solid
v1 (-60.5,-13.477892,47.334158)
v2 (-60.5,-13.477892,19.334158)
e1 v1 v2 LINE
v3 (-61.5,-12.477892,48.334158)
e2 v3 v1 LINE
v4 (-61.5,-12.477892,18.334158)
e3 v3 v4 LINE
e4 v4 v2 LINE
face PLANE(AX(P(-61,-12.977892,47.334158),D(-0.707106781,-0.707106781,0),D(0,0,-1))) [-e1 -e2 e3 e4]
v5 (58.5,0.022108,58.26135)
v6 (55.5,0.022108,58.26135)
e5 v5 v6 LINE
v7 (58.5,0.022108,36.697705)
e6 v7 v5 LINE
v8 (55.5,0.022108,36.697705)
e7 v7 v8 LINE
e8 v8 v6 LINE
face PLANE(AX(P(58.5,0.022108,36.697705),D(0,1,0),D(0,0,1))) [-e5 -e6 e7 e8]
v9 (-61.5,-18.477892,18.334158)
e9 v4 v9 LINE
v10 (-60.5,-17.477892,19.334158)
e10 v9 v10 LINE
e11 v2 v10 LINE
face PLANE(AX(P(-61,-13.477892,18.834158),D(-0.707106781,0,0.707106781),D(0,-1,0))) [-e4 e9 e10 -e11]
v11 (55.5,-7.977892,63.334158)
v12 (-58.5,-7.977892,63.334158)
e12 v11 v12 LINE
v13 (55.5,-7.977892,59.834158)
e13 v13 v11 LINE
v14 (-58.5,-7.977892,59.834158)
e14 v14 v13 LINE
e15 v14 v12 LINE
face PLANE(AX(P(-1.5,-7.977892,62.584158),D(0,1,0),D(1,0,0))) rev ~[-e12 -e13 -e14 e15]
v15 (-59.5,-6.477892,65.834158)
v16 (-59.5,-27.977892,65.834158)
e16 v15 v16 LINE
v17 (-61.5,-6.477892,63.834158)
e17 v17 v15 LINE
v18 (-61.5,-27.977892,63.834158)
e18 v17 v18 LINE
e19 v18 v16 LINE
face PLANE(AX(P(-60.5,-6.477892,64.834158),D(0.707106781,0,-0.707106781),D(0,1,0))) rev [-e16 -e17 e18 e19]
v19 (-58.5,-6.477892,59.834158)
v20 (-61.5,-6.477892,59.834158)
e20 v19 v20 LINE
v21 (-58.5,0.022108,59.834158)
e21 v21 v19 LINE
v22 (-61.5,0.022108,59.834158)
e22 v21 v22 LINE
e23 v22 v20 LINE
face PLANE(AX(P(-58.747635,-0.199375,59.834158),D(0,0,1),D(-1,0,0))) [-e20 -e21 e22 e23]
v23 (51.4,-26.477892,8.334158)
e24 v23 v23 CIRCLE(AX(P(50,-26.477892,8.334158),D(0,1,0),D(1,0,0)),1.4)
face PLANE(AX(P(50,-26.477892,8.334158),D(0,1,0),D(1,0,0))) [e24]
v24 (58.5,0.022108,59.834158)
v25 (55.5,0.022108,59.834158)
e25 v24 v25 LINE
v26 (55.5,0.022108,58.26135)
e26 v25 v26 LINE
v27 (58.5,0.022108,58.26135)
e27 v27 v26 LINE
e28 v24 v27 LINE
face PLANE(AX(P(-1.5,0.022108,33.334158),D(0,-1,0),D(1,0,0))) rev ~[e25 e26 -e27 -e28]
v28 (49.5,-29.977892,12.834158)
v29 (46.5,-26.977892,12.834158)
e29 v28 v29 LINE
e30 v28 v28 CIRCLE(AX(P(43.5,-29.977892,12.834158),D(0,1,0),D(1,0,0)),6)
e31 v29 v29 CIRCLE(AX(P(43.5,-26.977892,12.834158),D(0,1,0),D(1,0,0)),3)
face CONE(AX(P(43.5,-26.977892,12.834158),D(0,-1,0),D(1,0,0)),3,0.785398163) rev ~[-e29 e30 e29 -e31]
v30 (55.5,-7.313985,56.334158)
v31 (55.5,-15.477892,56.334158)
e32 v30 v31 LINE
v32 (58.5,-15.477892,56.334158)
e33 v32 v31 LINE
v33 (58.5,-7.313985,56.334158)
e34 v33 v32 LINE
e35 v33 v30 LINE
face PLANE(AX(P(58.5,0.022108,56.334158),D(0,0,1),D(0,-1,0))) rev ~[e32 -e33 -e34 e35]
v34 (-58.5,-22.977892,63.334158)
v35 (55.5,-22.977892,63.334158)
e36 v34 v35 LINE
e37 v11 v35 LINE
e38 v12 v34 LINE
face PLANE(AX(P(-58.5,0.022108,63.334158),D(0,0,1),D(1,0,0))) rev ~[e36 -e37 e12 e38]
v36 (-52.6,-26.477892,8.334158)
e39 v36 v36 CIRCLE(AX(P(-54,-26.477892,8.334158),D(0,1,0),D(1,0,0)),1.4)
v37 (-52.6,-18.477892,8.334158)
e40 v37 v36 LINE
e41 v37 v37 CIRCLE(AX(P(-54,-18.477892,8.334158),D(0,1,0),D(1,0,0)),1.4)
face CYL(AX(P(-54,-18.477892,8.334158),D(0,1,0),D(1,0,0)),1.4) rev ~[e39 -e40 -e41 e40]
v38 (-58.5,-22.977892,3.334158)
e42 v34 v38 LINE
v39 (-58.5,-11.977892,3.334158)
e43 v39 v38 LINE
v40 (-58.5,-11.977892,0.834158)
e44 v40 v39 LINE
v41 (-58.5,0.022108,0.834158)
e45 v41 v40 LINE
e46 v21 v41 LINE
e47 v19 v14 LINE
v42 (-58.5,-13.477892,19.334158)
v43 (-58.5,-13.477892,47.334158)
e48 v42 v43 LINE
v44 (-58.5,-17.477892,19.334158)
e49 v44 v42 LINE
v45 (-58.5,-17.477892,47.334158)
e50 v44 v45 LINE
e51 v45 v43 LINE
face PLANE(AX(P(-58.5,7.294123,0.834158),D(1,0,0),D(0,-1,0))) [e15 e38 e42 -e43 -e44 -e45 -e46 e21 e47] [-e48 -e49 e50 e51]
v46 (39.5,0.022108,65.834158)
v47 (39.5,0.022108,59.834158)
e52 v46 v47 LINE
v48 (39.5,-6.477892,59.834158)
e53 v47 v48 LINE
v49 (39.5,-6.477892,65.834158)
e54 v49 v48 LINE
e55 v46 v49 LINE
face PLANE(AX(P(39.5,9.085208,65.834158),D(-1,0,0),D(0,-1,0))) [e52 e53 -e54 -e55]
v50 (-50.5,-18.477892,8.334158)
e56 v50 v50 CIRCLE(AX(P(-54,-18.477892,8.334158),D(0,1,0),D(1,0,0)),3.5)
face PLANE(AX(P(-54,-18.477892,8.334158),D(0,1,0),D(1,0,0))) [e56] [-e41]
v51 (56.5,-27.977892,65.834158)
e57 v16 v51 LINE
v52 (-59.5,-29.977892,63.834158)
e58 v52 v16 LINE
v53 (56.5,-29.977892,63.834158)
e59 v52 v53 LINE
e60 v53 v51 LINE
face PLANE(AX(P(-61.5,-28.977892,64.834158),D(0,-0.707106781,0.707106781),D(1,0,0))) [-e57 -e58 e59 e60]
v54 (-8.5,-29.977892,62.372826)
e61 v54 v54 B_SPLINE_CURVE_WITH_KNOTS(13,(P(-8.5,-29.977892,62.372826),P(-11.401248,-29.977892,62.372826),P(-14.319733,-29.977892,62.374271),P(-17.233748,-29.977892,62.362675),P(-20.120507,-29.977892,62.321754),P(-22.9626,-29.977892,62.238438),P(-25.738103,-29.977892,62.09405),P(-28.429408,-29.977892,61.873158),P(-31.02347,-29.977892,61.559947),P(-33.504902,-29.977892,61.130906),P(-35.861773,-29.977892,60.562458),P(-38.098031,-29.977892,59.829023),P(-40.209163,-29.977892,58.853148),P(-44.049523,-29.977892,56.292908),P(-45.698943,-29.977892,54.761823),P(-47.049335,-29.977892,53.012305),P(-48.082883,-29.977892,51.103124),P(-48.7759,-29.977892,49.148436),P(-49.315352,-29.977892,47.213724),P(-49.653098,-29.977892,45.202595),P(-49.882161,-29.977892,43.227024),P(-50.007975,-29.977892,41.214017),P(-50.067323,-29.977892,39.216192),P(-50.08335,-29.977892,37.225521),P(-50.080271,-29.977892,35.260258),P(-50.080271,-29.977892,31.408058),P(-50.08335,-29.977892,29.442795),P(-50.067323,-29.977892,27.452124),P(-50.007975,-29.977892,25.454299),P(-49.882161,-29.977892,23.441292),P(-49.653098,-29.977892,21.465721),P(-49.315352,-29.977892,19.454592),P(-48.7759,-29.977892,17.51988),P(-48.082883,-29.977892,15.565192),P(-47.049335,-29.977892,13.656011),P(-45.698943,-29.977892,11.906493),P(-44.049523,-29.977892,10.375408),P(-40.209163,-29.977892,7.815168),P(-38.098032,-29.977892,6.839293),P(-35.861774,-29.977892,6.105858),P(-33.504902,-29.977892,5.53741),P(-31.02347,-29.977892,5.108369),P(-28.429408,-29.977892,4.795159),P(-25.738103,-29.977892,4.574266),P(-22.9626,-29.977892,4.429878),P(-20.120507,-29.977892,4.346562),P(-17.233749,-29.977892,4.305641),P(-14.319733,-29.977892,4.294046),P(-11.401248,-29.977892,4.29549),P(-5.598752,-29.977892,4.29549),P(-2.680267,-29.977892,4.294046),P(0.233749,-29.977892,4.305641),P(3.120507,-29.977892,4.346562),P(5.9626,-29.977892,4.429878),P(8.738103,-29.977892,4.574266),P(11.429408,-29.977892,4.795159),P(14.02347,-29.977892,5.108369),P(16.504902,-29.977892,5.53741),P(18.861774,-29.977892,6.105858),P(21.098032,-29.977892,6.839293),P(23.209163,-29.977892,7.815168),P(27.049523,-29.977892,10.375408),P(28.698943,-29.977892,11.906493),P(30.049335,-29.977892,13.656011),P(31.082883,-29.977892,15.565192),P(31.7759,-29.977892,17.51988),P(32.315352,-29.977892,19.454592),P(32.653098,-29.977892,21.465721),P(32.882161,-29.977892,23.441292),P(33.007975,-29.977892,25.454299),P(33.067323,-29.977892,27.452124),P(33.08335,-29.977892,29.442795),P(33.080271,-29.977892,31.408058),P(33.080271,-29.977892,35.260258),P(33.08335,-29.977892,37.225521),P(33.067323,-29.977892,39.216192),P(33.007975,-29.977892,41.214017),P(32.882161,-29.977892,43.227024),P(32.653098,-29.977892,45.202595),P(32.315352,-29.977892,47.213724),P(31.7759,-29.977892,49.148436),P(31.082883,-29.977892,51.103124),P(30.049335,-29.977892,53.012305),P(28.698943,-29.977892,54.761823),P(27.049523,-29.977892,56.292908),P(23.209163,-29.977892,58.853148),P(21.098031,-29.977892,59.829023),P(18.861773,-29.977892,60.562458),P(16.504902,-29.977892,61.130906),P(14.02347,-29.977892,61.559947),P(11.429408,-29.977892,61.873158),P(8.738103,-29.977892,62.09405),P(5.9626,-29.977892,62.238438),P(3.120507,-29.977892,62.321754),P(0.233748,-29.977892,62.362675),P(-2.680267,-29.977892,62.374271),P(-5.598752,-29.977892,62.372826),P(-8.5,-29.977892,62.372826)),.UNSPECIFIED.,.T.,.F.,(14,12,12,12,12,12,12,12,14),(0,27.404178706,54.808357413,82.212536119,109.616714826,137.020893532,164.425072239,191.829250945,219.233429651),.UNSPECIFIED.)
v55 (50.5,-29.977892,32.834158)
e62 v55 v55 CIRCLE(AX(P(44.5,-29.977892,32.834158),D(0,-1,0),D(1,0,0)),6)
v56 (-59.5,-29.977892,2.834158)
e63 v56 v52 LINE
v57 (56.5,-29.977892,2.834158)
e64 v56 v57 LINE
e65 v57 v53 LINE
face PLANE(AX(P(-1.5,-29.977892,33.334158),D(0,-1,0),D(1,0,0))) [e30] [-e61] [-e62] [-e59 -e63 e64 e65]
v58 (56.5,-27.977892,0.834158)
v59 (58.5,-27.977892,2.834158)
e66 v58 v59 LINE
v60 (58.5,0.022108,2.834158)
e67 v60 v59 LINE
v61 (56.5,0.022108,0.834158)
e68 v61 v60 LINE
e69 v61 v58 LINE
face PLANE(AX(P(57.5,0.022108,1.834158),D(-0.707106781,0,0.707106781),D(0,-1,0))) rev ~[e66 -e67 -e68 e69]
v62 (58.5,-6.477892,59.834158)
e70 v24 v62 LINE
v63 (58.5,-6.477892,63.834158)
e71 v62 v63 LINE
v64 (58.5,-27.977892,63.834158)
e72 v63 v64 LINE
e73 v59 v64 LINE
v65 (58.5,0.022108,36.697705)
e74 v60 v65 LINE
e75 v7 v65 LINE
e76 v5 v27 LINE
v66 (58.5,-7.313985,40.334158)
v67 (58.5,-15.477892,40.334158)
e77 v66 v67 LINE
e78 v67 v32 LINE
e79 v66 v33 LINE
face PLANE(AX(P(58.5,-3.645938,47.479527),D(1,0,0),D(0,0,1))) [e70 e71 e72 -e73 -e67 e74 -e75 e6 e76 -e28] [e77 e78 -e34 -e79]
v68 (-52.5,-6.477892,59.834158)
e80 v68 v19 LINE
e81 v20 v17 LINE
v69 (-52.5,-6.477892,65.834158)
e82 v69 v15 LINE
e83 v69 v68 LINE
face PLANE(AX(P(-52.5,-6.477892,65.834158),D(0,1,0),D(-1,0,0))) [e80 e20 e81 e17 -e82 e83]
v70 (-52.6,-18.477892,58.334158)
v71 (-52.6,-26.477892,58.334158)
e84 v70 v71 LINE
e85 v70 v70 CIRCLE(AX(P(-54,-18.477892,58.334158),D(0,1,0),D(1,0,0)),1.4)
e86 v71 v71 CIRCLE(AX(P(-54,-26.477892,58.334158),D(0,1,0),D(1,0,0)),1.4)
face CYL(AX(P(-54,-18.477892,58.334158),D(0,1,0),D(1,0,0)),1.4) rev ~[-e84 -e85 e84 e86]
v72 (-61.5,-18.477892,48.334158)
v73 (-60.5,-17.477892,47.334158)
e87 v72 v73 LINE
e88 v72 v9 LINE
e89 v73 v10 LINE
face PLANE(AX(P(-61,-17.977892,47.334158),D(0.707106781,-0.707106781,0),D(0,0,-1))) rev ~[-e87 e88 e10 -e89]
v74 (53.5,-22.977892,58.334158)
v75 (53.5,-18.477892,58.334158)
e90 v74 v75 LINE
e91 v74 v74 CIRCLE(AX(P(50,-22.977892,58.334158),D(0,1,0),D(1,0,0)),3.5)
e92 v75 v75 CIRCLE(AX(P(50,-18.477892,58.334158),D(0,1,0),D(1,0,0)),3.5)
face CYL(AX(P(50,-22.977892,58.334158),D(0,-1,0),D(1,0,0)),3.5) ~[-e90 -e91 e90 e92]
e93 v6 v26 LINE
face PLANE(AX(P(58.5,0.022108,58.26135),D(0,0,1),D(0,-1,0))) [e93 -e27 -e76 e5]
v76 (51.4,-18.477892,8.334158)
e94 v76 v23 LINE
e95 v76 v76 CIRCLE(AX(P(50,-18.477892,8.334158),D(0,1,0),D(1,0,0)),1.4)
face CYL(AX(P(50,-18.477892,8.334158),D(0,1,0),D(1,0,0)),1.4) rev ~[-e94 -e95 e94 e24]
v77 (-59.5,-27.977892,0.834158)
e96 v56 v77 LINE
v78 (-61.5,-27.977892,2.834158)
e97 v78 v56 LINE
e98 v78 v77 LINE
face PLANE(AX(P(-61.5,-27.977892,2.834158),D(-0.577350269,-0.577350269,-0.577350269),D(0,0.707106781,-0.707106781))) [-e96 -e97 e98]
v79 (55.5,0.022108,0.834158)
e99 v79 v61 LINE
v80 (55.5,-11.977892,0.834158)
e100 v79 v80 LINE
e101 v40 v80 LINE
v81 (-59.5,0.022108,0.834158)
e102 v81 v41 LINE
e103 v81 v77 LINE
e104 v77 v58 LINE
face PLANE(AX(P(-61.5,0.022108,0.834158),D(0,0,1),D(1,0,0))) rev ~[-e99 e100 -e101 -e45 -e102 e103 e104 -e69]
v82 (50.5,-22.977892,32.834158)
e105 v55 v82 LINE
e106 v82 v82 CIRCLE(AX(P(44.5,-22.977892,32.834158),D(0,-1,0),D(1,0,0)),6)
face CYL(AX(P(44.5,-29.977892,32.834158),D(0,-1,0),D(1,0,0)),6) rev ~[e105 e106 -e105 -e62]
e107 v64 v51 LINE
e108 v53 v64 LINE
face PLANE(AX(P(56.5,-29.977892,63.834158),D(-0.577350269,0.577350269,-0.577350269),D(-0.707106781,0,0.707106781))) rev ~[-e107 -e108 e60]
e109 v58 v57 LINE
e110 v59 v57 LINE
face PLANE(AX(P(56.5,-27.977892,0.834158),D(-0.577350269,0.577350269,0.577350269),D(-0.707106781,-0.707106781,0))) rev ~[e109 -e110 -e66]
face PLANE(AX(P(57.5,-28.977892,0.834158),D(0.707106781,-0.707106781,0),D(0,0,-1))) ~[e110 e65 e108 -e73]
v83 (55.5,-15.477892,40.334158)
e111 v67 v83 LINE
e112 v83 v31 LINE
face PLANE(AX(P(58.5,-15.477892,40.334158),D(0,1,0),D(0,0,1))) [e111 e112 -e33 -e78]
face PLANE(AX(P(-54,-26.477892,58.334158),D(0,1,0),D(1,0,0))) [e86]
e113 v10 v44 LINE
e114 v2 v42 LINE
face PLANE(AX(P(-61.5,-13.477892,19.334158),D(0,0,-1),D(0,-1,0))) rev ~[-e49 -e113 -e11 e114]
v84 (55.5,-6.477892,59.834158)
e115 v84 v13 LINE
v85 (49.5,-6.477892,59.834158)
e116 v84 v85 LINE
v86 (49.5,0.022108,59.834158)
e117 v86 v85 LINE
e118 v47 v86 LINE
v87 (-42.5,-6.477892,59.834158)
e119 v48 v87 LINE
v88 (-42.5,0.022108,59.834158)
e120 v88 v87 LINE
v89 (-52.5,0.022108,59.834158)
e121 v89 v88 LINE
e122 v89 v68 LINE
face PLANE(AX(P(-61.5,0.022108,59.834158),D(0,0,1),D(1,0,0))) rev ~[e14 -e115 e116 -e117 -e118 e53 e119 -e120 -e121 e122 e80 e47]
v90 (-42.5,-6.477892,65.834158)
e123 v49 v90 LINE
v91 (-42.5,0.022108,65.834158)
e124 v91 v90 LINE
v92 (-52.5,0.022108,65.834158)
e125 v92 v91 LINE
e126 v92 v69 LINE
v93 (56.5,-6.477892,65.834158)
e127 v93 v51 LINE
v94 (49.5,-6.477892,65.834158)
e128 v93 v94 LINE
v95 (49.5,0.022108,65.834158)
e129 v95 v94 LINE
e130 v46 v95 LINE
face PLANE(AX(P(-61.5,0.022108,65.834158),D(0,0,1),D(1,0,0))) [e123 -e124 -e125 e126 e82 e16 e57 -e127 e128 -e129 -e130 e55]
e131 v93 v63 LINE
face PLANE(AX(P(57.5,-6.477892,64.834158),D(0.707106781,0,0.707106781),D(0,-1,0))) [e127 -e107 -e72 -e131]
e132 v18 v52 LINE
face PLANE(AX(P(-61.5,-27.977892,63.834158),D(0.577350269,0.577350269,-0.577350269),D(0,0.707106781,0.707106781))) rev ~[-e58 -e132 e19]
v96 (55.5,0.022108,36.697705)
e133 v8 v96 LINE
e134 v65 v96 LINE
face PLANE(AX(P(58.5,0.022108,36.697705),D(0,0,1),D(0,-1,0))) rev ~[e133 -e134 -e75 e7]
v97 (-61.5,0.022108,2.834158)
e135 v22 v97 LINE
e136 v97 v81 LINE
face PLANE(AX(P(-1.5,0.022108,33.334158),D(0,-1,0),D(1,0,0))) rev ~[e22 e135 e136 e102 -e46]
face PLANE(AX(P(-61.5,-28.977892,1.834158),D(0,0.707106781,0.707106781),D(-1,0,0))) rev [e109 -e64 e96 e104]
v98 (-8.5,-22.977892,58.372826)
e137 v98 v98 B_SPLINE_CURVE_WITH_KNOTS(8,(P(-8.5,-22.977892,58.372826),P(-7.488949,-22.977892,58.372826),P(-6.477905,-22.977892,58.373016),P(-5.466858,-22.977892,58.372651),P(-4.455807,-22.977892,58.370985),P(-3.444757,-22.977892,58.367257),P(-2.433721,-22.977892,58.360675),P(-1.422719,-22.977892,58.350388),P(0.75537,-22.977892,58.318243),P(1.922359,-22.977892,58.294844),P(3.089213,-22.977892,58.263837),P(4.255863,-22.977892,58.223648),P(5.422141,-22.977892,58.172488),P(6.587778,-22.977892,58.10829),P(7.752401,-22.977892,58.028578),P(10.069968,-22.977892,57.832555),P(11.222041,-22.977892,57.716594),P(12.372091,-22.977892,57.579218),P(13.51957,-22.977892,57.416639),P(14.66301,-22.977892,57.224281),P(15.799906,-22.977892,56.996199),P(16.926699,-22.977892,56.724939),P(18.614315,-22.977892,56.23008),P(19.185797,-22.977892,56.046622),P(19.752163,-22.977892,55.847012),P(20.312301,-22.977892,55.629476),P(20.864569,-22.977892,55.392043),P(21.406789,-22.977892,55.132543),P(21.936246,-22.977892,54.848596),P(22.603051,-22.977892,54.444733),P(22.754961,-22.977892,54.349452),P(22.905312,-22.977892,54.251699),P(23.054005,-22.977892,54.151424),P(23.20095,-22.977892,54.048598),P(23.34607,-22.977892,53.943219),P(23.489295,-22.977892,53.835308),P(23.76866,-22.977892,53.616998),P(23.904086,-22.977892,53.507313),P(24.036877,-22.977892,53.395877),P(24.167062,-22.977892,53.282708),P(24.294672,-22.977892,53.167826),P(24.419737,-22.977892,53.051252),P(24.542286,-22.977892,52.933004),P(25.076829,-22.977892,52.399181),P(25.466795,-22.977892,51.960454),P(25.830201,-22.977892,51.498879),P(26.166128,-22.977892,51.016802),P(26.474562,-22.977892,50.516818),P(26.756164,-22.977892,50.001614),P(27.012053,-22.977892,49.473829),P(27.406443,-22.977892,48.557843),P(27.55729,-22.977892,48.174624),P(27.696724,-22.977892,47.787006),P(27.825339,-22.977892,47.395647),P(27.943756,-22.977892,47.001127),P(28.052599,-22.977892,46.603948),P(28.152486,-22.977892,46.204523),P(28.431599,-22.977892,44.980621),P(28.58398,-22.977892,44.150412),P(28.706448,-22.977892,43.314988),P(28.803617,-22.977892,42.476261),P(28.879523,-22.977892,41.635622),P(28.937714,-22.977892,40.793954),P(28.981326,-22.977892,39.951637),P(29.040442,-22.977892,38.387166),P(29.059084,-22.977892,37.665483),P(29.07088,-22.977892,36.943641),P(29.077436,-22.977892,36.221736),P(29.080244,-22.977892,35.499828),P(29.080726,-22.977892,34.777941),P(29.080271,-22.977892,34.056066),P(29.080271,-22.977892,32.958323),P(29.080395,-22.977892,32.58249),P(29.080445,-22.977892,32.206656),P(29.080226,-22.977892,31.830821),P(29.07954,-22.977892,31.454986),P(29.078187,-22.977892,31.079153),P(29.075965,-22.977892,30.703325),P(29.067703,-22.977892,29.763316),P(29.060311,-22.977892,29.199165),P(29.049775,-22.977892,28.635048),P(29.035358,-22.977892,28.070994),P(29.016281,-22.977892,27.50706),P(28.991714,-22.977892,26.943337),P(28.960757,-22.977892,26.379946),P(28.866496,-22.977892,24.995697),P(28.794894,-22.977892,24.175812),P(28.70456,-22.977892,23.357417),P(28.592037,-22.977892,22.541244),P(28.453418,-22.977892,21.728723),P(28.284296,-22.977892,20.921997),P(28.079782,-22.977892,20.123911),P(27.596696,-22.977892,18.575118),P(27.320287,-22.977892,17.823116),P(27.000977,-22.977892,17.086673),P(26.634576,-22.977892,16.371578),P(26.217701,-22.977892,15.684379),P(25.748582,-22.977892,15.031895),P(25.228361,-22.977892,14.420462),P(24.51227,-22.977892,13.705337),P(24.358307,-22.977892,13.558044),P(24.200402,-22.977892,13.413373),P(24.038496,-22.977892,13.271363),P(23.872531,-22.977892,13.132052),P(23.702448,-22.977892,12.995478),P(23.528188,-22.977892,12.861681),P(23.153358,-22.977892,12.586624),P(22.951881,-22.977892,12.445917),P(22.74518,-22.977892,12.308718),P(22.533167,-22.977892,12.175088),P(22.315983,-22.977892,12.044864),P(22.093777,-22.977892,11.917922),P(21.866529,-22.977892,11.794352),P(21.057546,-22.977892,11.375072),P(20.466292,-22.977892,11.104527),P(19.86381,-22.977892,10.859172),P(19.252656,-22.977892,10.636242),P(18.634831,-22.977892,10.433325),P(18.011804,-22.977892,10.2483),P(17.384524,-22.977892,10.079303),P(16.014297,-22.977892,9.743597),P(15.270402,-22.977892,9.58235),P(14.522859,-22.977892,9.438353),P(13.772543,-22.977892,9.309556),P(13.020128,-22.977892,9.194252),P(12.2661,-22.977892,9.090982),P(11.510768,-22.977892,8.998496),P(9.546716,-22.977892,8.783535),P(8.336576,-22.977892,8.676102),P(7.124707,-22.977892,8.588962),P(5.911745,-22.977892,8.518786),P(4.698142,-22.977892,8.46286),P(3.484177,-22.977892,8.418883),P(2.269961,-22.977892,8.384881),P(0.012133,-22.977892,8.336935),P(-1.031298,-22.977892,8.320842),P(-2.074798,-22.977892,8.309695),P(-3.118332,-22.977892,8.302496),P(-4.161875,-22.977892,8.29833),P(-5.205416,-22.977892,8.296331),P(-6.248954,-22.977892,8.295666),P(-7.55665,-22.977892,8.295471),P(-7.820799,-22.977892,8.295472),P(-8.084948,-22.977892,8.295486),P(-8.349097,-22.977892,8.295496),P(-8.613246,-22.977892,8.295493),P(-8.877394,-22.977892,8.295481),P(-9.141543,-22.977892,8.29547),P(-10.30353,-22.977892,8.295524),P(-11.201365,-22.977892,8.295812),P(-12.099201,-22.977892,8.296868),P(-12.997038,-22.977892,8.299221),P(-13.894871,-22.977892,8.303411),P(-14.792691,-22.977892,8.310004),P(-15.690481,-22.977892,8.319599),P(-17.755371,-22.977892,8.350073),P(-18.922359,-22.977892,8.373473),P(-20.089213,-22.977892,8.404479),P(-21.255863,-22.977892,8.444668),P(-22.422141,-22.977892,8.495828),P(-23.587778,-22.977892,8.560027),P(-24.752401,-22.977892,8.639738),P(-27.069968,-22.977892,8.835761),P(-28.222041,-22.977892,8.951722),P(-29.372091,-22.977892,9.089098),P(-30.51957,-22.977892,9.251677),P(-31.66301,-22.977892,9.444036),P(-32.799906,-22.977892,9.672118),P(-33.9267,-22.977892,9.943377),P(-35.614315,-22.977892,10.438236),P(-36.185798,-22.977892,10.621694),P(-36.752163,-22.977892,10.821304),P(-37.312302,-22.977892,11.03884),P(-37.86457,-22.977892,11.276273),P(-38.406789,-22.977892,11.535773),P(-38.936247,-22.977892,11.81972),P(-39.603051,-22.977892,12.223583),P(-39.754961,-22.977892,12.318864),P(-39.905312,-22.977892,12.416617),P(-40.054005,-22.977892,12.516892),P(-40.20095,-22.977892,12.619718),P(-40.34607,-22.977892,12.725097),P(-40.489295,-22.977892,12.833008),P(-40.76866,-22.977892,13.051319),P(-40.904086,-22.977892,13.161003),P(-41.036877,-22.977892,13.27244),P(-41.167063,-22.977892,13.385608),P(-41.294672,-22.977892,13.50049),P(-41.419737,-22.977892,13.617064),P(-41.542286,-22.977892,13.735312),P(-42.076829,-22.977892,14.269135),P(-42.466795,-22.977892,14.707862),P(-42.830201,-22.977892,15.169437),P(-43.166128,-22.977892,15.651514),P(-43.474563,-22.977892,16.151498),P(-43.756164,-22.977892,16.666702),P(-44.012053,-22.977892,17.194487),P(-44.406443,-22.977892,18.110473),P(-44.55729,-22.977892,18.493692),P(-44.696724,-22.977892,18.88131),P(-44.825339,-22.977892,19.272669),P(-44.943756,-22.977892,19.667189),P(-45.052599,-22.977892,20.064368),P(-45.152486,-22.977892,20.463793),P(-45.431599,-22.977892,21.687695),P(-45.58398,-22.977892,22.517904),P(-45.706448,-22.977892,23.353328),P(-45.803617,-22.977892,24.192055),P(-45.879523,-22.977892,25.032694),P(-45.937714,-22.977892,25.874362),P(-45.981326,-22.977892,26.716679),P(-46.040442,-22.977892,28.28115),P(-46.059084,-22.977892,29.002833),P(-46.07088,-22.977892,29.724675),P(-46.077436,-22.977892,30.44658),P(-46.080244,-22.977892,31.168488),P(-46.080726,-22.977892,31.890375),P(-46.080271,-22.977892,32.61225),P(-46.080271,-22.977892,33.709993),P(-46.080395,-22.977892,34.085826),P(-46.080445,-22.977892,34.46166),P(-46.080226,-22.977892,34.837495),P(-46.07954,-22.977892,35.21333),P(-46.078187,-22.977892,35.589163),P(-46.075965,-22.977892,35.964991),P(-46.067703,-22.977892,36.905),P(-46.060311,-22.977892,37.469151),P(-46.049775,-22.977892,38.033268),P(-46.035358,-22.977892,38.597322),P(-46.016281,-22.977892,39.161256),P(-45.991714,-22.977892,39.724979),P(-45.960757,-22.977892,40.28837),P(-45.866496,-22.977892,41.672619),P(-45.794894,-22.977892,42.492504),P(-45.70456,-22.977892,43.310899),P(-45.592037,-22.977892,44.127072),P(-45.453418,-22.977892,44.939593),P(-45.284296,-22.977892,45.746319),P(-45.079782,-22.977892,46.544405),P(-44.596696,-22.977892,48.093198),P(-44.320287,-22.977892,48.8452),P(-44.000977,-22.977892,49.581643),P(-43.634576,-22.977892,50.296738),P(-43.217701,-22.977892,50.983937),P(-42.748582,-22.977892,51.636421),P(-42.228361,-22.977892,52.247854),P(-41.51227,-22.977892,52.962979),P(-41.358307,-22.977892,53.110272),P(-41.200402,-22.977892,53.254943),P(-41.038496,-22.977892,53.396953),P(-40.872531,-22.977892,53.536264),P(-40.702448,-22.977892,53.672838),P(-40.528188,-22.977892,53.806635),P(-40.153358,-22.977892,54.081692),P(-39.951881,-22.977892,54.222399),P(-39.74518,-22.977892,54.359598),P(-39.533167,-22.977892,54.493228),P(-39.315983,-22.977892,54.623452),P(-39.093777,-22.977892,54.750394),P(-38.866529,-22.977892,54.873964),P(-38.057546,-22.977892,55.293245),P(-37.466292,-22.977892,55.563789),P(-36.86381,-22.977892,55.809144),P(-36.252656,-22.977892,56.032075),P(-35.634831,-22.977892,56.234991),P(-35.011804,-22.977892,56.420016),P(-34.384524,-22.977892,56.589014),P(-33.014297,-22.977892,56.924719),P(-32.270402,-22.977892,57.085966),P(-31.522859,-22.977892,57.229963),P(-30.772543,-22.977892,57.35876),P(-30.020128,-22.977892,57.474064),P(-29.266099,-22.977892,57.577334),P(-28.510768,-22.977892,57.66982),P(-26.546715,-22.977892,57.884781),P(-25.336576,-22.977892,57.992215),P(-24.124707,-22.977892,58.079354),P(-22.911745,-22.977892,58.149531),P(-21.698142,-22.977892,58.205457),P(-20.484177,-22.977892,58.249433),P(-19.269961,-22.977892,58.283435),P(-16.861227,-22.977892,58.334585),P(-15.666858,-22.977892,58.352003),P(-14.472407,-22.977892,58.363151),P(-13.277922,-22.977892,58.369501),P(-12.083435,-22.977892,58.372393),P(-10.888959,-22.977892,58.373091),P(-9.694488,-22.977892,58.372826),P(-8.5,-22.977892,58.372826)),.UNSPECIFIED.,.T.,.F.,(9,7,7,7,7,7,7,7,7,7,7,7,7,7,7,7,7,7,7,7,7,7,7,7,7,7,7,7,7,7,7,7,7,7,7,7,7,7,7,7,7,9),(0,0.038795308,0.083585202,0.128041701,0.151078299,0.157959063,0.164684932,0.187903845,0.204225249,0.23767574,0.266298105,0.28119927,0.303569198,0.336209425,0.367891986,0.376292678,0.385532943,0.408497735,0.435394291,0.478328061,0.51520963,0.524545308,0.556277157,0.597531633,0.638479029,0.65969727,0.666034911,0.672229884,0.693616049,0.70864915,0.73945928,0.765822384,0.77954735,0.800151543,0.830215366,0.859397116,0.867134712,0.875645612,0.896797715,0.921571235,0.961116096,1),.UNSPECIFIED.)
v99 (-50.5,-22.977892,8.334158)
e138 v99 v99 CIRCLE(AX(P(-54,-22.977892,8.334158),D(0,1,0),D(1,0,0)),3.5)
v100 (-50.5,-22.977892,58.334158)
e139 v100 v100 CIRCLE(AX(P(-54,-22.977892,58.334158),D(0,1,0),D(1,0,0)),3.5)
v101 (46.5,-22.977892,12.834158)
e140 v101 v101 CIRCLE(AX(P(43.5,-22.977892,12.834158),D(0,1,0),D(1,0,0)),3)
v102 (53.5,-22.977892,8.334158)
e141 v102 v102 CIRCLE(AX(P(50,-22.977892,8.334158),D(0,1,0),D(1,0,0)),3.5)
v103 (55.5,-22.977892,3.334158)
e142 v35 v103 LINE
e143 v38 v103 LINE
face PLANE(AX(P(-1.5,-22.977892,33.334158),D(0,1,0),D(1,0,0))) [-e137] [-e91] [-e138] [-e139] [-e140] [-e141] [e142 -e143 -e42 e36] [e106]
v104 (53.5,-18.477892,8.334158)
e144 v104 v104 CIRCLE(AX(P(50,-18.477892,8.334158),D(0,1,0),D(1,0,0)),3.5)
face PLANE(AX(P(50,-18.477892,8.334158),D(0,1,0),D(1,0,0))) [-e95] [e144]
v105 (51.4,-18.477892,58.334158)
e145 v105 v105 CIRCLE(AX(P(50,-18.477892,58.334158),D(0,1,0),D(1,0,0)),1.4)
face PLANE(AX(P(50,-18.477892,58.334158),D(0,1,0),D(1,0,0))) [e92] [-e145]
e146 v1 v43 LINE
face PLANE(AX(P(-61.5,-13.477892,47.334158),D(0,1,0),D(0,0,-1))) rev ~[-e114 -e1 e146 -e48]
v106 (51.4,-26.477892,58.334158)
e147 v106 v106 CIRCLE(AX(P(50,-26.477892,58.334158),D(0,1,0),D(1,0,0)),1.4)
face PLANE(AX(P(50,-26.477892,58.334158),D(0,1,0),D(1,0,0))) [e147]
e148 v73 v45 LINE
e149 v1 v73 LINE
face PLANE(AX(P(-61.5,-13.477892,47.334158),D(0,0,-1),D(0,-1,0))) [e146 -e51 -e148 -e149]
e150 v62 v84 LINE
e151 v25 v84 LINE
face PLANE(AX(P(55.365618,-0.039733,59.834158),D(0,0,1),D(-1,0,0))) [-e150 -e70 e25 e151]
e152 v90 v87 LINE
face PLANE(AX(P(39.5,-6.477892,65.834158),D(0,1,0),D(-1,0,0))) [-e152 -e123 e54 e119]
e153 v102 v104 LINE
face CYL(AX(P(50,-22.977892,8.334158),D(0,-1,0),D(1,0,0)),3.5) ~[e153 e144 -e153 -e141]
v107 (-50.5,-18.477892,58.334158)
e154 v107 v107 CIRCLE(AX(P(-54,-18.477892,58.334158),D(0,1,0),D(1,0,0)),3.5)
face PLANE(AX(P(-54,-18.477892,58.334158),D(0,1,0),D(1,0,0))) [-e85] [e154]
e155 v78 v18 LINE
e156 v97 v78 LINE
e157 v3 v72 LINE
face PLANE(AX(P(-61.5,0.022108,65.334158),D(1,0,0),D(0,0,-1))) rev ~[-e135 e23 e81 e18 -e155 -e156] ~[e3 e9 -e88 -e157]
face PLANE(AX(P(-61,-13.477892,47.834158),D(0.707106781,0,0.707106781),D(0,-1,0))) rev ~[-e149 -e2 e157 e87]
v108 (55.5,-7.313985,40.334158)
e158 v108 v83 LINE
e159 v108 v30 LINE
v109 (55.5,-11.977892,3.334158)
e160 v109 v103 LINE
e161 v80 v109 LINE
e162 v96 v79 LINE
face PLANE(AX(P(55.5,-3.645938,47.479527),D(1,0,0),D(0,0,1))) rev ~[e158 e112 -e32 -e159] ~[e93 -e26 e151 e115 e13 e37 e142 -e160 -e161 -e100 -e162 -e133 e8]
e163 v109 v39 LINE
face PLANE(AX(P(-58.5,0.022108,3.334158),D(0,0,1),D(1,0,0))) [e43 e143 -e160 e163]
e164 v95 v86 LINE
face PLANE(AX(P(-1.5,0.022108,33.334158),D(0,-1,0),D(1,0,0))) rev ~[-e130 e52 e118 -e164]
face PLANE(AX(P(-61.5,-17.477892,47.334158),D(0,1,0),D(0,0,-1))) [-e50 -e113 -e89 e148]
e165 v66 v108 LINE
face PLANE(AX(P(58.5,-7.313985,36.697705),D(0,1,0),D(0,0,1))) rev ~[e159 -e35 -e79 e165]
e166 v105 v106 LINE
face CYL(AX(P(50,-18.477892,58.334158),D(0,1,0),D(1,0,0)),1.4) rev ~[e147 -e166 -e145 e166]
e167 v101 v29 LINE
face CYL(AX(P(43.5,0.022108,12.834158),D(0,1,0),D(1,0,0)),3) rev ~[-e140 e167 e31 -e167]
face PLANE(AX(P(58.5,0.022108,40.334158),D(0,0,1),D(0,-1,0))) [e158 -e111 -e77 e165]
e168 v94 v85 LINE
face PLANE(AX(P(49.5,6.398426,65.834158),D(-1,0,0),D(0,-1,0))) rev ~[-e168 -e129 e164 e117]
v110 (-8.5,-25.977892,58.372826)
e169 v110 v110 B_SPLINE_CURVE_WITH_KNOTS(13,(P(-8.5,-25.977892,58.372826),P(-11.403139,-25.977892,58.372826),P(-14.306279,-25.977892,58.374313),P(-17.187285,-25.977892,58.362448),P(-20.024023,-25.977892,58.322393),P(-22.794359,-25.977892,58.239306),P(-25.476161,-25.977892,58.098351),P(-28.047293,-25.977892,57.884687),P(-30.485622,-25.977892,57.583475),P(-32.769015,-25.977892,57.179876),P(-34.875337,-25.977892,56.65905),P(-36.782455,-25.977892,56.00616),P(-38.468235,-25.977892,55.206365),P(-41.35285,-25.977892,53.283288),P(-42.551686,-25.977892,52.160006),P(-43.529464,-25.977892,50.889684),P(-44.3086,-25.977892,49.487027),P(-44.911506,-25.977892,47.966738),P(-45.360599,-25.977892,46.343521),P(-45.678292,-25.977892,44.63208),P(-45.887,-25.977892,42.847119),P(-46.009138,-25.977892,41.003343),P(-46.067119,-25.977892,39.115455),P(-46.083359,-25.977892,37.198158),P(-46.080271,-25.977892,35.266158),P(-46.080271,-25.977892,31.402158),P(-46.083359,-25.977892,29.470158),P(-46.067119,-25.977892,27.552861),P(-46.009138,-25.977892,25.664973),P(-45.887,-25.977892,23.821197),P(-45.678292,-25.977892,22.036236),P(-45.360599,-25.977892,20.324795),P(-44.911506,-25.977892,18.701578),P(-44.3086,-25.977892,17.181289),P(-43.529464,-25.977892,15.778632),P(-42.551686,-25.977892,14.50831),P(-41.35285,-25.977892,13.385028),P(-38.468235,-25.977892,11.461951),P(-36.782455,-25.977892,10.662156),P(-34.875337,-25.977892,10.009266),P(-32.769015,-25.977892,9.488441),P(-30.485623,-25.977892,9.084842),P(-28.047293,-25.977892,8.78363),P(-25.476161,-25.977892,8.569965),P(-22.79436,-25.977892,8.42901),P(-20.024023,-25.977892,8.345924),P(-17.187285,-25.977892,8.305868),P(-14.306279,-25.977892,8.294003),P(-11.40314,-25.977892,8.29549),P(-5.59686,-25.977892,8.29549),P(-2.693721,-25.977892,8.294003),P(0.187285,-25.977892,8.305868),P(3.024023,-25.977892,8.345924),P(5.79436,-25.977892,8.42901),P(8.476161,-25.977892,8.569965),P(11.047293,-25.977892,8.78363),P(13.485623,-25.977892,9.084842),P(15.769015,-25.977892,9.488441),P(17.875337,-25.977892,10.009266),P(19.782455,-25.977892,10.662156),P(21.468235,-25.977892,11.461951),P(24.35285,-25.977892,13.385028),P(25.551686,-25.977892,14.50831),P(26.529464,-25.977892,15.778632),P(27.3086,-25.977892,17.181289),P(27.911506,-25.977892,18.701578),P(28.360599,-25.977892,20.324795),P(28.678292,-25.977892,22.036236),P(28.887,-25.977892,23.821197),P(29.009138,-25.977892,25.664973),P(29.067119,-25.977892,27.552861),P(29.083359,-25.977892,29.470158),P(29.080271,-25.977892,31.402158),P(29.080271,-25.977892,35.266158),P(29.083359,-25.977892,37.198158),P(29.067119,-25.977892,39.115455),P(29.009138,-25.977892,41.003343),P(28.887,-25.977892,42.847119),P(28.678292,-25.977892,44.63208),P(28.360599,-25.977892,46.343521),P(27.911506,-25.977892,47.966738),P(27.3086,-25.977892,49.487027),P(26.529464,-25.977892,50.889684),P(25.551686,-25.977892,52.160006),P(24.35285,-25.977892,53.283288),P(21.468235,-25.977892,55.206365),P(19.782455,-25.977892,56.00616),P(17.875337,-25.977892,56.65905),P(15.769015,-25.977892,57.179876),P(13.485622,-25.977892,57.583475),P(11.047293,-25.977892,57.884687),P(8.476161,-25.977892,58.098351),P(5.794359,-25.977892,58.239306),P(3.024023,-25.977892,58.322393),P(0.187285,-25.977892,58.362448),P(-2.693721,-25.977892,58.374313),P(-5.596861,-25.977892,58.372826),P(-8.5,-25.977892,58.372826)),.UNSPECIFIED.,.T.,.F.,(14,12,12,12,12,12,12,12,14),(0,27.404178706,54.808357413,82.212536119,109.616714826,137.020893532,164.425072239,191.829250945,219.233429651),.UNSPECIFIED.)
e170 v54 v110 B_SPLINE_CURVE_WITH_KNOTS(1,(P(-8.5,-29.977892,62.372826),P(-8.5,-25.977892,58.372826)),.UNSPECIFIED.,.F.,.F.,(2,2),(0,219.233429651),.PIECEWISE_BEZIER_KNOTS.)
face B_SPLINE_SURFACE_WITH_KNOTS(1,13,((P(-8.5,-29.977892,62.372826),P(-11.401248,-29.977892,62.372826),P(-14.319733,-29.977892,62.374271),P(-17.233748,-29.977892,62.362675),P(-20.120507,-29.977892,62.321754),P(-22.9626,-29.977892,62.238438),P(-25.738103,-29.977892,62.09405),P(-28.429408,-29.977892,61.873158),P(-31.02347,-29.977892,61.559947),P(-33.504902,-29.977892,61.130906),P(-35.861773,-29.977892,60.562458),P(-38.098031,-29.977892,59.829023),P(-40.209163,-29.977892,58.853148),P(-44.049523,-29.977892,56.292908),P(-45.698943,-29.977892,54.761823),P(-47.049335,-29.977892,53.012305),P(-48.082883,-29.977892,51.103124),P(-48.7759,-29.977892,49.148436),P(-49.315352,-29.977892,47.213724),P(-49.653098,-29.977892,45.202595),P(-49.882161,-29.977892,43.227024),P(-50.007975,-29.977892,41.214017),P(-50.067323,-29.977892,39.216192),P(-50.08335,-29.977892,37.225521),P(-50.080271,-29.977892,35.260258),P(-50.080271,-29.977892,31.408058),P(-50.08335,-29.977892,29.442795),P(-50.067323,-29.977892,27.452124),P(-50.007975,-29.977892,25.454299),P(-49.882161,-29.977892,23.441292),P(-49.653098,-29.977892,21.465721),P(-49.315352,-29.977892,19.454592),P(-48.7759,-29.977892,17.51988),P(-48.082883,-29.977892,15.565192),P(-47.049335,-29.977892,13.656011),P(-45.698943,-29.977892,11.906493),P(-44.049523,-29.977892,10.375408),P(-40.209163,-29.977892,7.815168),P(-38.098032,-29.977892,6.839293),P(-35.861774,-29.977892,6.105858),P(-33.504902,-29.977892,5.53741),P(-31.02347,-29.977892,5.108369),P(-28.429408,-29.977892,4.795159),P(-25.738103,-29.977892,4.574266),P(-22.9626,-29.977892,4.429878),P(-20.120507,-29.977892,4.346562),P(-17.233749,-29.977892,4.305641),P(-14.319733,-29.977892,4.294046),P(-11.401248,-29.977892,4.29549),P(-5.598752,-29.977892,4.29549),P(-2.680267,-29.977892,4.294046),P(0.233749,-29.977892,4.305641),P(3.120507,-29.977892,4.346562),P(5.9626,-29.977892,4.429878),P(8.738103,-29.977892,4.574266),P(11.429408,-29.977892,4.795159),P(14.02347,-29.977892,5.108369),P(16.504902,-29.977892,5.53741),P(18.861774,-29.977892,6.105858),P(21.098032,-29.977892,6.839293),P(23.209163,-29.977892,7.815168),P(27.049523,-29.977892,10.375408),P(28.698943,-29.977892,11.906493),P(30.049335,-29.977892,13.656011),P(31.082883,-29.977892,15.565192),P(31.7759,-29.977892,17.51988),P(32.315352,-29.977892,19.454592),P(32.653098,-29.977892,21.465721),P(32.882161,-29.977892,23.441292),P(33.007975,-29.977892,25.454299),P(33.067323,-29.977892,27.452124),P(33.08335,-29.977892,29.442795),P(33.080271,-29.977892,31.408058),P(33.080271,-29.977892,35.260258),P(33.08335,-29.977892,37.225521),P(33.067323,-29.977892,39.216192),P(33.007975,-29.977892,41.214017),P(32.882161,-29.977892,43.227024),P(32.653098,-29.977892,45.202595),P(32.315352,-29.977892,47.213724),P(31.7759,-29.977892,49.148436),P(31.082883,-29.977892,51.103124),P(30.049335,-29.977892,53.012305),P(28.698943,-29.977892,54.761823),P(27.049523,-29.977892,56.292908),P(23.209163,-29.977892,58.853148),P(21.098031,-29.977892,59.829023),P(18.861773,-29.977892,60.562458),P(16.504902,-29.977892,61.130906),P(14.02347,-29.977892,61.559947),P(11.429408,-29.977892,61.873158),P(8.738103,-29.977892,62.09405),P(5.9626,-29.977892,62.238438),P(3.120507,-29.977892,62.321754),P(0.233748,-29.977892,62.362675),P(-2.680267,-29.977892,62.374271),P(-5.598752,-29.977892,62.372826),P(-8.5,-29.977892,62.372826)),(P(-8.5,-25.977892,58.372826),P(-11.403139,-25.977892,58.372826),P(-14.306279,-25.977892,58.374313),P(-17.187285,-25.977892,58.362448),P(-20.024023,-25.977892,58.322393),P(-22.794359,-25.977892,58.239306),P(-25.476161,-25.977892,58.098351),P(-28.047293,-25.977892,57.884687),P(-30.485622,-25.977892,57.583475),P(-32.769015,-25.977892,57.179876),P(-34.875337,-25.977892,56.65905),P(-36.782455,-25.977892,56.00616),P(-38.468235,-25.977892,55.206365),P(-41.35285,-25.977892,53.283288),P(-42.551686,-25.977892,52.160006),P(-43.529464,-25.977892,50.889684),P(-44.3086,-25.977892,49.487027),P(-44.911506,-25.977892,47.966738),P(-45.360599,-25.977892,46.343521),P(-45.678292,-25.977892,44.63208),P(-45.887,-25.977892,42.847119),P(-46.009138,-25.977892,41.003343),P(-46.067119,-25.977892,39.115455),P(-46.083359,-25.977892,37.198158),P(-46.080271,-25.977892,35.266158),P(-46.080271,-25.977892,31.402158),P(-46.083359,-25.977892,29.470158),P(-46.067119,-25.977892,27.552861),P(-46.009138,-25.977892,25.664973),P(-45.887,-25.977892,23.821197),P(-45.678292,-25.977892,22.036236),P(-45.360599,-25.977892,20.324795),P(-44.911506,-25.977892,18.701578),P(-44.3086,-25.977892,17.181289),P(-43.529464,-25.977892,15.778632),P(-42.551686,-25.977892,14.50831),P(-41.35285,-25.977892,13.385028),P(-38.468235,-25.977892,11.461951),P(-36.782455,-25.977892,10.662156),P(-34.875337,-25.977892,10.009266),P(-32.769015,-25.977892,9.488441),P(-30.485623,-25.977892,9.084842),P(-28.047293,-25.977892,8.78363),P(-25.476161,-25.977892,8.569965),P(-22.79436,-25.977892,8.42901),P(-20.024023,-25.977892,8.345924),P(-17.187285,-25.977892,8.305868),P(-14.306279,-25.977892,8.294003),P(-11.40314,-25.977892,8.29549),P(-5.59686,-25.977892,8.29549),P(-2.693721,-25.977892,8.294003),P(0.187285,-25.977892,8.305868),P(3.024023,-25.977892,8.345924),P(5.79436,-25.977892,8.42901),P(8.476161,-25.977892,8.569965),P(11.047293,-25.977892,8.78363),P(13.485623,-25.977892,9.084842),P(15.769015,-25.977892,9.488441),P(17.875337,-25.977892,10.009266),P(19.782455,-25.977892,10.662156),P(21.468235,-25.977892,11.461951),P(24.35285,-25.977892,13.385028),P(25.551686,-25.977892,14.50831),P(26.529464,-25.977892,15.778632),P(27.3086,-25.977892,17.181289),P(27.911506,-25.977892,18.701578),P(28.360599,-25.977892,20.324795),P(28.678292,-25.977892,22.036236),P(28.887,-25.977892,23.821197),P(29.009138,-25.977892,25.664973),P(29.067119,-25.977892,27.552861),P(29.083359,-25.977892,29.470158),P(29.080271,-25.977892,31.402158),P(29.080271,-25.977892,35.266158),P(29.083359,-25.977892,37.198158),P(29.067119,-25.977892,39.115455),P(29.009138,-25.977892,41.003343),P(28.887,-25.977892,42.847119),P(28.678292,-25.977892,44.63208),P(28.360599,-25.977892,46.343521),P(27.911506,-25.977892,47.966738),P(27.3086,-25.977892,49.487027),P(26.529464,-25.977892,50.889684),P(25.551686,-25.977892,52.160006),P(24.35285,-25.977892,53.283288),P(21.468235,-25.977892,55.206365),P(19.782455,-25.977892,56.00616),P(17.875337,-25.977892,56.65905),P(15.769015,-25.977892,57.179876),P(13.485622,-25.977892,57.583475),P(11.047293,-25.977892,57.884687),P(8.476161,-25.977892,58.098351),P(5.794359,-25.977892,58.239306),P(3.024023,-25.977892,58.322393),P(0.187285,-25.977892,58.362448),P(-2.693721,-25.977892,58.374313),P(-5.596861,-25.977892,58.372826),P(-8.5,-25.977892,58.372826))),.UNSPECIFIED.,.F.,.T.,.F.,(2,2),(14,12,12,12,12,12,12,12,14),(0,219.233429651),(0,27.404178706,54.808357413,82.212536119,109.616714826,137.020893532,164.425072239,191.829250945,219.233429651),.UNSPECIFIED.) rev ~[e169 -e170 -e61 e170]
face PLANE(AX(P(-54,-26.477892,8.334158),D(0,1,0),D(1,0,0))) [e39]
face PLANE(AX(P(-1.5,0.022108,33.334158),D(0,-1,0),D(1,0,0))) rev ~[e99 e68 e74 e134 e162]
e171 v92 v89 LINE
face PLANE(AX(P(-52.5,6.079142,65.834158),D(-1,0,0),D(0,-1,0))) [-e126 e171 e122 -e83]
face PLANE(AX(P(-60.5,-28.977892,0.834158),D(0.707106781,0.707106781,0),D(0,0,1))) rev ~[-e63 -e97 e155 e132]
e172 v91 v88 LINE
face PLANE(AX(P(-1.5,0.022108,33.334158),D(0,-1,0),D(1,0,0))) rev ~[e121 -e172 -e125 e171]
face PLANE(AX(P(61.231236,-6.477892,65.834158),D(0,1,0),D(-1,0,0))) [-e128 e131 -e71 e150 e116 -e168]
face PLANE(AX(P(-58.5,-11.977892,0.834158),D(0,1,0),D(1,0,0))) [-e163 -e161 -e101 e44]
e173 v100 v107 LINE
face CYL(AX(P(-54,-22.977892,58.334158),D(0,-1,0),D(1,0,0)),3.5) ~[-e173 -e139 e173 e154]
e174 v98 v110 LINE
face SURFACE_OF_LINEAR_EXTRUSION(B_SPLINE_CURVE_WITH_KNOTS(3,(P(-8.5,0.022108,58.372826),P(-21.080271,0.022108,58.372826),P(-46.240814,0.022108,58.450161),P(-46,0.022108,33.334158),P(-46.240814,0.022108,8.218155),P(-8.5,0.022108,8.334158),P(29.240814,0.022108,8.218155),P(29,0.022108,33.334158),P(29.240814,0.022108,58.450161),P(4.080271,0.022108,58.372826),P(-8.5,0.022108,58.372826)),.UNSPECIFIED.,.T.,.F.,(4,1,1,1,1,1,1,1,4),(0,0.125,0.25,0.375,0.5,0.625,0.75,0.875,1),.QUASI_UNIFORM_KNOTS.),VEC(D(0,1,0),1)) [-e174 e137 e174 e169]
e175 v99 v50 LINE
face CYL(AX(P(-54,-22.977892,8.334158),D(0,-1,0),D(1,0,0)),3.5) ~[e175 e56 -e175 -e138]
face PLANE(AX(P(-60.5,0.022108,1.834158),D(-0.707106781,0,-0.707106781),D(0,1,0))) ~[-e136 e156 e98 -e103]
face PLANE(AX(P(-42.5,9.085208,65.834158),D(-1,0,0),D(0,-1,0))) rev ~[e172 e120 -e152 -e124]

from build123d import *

# Parameters (mm, degrees)
SKETCH029_W             = 120
SKETCH029_H             = 65
PAD005_DEPTH            = 30
SKETCH028_R             = 3
POCKET016_DEPTH         = 30.001
SKETCH001_R             = 6
POCKET017_DEPTH         = 30.001
SKETCH030_W             = 114
SKETCH030_H             = 60
POCKET018_DEPTH         = 23
CHAMFER001_SIZE         = 4
SKETCH031_R             = 3.5
PAD006_DEPTH            = 4.5
SKETCH032_R             = 1.4
POCKET019_DEPTH         = 8
SKETCH033_W             = 16
SKETCH033_H             = 15.5
POCKET020_DEPTH         = 9
SKETCH034_W             = 28
SKETCH034_H             = 4
POCKET021_DEPTH         = 5
SKETCH047_W             = 114
SKETCH047_H             = 19.272015
POCKET_DEPTH            = 5
SKETCH048_W             = 120
SKETCH048_H             = 5.5
PAD007_DEPTH            = 8
SKETCH_W                = 11.731236
SKETCH_H                = 12.876318
SKETCH_W_2              = 82
SKETCH_H_2              = 15.5631
SKETCH_W_3              = 12.49527
SKETCH_H_3              = 12.557034
POCKET032_DEPTH         = 6
CHAMFER_SIZE            = 2
CHAMFER002_SIZE         = 1
CHAMFER003_SIZE         = 3
SKETCH054_W             = 21.563645
SKETCH054_H             = 7.336093
PAD008_DEPTH            = 3
BODY002_PLACEMENT_ANGLE = 270


with BuildPart() as part:
    # Sketch029 → Pad005 (new body)
    with BuildSketch(Plane.XY):
        with Locations((7, 0)):
            Rectangle(SKETCH029_W, SKETCH029_H)
        with BuildLine():
            add(Edge.make_bspline(
                [(0, 25.038668), (-12.580271, 25.038668), (-37.740814, 25.116003), (-37.5, 0), (-37.740814, -25.116003), (0, -25), (37.740814, -25.116003), (37.5, 0), (37.740814, 25.116003), (12.580271, 25.038668), (0, 25.038668)],
                knots=[0, 0, 0, 0, 0.125, 0.25, 0.375, 0.5, 0.625, 0.75, 0.875, 1, 1, 1, 1], degree=3))
        make_face(mode=Mode.SUBTRACT)
    extrude(amount=PAD005_DEPTH)

    # Sketch028 → Pocket016 (cut, through all)
    with BuildSketch(Plane(origin=(0, 0, 0), x_dir=(1, 0, 0), z_dir=(0, 0, -1))):
        with Locations((52, 20.5)):
            Circle(SKETCH028_R)
    extrude(amount=-POCKET016_DEPTH, mode=Mode.SUBTRACT)

    # Sketch001 (on Face5 of Pocket016) → Pocket017 (cut, through all)
    with BuildSketch(Plane.XY.offset(30)):
        with Locations((53, -0.5)):
            Circle(SKETCH001_R)
    extrude(amount=-POCKET017_DEPTH, mode=Mode.SUBTRACT)

    # Sketch030 (on Face4 of Pocket017) → Pocket018 (cut)
    with BuildSketch(Plane(origin=(0, 0, 0), x_dir=(1, 0, 0), z_dir=(0, 0, -1))):
        with Locations((7, 0)):
            Rectangle(SKETCH030_W, SKETCH030_H)
    extrude(amount=-POCKET018_DEPTH, mode=Mode.SUBTRACT)

    # Chamfer001
    chamfer001_edges = [part.edges().sort_by_distance(p)[0] for p in [
        (0, -25.038668, 30),
    ]]
    chamfer(chamfer001_edges, length=CHAMFER001_SIZE)

    # Sketch031 (on Face11 of Chamfer001) → Pad006 (join)
    with BuildSketch(Plane(origin=(0, 0, 23), x_dir=(1, 0, 0), z_dir=(0, 0, -1))):
        with Locations((-45.5, 25)):
            Circle(SKETCH031_R)
        with Locations((-45.5, -25)):
            Circle(SKETCH031_R)
        with Locations((58.5, -25)):
            Circle(SKETCH031_R)
        with Locations((58.5, 25)):
            Circle(SKETCH031_R)
    extrude(amount=PAD006_DEPTH)

    # Sketch032 (on Face22 of Pad006) → Pocket019 (cut)
    with BuildSketch(Plane(origin=(0, 0, 18.5), x_dir=(1, 0, 0), z_dir=(0, 0, -1))):
        with Locations((-45.5, 25)):
            Circle(SKETCH032_R)
        with Locations((58.5, 25)):
            Circle(SKETCH032_R)
        with Locations((58.5, -25)):
            Circle(SKETCH032_R)
        with Locations((-45.5, -25)):
            Circle(SKETCH032_R)
    extrude(amount=-POCKET019_DEPTH, mode=Mode.SUBTRACT)

    # Sketch033 (on Face5 of Pocket019) → Pocket020 (cut)
    with BuildSketch(Plane.YZ.offset(67)):
        with Locations((15, 7.75)):
            Rectangle(SKETCH033_W, SKETCH033_H)
    extrude(amount=-POCKET020_DEPTH, mode=Mode.SUBTRACT)

    # Sketch034 (on Face4 of Pocket020) → Pocket021 (cut)
    with BuildSketch(Plane(origin=(-53, 0, 0), x_dir=(0, -1, 0), z_dir=(-1, 0, 0))):
        with Locations((0, 15.5)):
            Rectangle(SKETCH034_W, SKETCH034_H)
    extrude(amount=-POCKET021_DEPTH, mode=Mode.SUBTRACT)

    # Sketch047 (on Face6 of Pocket021) → Pocket (cut)
    with BuildSketch(Plane.XZ.offset(32.5)):
        with Locations((7, 2.363993)):
            Rectangle(SKETCH047_W, SKETCH047_H)
    extrude(amount=-POCKET_DEPTH, mode=Mode.SUBTRACT)

    # Sketch048 (on Face10 of Pocket) → Pad007 (join)
    with BuildSketch(Plane(origin=(0, 0, 0), x_dir=(1, 0, 0), z_dir=(0, 0, -1))):
        with Locations((7, -29.25)):
            Rectangle(SKETCH048_W, SKETCH048_H)
    extrude(amount=-PAD007_DEPTH)

    # Sketch (on Face3 of Pocket) → Pocket032 (cut)
    with BuildSketch(Plane(origin=(0, 32.5, 0), x_dir=(-1, 0, 0), z_dir=(0, 1, 0))):
        with Locations((-63.865618, 0.061841)):
            Rectangle(SKETCH_W, SKETCH_H)
        with Locations((-7, -1.28155)):
            Rectangle(SKETCH_W_2, SKETCH_H_2)
        with Locations((50.247635, 0.221483)):
            Rectangle(SKETCH_W_3, SKETCH_H_3)
    extrude(amount=-POCKET032_DEPTH, mode=Mode.SUBTRACT)

    # Chamfer
    chamfer_edges = [part.edges().sort_by_distance(p)[0] for p in [
        (67, 32.5, 18.25),
        (67, 0, 30),
        (7, 32.5, 30),
        (67, -32.5, 15),
        (7, -32.5, 30),
        (-53, 0, 30),
        (-53, -32.5, 15),
        (-53, 32.5, 18.25),
    ]]
    chamfer(chamfer_edges, length=CHAMFER_SIZE)

    # Chamfer002
    chamfer002_edges = [part.edges().sort_by_distance(p)[0] for p in [
        (-53, 0, 17.5),
        (-53, 14, 15.5),
        (-53, 0, 13.5),
        (-53, -14, 15.5),
    ]]
    chamfer(chamfer002_edges, length=CHAMFER002_SIZE)

    # Chamfer003
    chamfer003_edges = [part.edges().sort_by_distance(p)[0] for p in [
        (49, -20.5, 30),
    ]]
    chamfer(chamfer003_edges, length=CHAMFER003_SIZE)

    # Sketch054 (on Face11 of Chamfer003) → Pad008 (join)
    with BuildSketch(Plane.YZ.offset(67)):
        with Locations((14.145369, 3.668046)):
            Rectangle(SKETCH054_W, SKETCH054_H)
    extrude(amount=-PAD008_DEPTH)


with BuildPart() as part_1:
    # Body002 placement: moved
    add(part.part.moved(Location((-8.5, 0.022108, 33.334158))).rotate(Axis((-8.5, 0.022108, 33.334158), (-1, 0, 0)), BODY002_PLACEMENT_ANGLE))


solid = part_1.part
